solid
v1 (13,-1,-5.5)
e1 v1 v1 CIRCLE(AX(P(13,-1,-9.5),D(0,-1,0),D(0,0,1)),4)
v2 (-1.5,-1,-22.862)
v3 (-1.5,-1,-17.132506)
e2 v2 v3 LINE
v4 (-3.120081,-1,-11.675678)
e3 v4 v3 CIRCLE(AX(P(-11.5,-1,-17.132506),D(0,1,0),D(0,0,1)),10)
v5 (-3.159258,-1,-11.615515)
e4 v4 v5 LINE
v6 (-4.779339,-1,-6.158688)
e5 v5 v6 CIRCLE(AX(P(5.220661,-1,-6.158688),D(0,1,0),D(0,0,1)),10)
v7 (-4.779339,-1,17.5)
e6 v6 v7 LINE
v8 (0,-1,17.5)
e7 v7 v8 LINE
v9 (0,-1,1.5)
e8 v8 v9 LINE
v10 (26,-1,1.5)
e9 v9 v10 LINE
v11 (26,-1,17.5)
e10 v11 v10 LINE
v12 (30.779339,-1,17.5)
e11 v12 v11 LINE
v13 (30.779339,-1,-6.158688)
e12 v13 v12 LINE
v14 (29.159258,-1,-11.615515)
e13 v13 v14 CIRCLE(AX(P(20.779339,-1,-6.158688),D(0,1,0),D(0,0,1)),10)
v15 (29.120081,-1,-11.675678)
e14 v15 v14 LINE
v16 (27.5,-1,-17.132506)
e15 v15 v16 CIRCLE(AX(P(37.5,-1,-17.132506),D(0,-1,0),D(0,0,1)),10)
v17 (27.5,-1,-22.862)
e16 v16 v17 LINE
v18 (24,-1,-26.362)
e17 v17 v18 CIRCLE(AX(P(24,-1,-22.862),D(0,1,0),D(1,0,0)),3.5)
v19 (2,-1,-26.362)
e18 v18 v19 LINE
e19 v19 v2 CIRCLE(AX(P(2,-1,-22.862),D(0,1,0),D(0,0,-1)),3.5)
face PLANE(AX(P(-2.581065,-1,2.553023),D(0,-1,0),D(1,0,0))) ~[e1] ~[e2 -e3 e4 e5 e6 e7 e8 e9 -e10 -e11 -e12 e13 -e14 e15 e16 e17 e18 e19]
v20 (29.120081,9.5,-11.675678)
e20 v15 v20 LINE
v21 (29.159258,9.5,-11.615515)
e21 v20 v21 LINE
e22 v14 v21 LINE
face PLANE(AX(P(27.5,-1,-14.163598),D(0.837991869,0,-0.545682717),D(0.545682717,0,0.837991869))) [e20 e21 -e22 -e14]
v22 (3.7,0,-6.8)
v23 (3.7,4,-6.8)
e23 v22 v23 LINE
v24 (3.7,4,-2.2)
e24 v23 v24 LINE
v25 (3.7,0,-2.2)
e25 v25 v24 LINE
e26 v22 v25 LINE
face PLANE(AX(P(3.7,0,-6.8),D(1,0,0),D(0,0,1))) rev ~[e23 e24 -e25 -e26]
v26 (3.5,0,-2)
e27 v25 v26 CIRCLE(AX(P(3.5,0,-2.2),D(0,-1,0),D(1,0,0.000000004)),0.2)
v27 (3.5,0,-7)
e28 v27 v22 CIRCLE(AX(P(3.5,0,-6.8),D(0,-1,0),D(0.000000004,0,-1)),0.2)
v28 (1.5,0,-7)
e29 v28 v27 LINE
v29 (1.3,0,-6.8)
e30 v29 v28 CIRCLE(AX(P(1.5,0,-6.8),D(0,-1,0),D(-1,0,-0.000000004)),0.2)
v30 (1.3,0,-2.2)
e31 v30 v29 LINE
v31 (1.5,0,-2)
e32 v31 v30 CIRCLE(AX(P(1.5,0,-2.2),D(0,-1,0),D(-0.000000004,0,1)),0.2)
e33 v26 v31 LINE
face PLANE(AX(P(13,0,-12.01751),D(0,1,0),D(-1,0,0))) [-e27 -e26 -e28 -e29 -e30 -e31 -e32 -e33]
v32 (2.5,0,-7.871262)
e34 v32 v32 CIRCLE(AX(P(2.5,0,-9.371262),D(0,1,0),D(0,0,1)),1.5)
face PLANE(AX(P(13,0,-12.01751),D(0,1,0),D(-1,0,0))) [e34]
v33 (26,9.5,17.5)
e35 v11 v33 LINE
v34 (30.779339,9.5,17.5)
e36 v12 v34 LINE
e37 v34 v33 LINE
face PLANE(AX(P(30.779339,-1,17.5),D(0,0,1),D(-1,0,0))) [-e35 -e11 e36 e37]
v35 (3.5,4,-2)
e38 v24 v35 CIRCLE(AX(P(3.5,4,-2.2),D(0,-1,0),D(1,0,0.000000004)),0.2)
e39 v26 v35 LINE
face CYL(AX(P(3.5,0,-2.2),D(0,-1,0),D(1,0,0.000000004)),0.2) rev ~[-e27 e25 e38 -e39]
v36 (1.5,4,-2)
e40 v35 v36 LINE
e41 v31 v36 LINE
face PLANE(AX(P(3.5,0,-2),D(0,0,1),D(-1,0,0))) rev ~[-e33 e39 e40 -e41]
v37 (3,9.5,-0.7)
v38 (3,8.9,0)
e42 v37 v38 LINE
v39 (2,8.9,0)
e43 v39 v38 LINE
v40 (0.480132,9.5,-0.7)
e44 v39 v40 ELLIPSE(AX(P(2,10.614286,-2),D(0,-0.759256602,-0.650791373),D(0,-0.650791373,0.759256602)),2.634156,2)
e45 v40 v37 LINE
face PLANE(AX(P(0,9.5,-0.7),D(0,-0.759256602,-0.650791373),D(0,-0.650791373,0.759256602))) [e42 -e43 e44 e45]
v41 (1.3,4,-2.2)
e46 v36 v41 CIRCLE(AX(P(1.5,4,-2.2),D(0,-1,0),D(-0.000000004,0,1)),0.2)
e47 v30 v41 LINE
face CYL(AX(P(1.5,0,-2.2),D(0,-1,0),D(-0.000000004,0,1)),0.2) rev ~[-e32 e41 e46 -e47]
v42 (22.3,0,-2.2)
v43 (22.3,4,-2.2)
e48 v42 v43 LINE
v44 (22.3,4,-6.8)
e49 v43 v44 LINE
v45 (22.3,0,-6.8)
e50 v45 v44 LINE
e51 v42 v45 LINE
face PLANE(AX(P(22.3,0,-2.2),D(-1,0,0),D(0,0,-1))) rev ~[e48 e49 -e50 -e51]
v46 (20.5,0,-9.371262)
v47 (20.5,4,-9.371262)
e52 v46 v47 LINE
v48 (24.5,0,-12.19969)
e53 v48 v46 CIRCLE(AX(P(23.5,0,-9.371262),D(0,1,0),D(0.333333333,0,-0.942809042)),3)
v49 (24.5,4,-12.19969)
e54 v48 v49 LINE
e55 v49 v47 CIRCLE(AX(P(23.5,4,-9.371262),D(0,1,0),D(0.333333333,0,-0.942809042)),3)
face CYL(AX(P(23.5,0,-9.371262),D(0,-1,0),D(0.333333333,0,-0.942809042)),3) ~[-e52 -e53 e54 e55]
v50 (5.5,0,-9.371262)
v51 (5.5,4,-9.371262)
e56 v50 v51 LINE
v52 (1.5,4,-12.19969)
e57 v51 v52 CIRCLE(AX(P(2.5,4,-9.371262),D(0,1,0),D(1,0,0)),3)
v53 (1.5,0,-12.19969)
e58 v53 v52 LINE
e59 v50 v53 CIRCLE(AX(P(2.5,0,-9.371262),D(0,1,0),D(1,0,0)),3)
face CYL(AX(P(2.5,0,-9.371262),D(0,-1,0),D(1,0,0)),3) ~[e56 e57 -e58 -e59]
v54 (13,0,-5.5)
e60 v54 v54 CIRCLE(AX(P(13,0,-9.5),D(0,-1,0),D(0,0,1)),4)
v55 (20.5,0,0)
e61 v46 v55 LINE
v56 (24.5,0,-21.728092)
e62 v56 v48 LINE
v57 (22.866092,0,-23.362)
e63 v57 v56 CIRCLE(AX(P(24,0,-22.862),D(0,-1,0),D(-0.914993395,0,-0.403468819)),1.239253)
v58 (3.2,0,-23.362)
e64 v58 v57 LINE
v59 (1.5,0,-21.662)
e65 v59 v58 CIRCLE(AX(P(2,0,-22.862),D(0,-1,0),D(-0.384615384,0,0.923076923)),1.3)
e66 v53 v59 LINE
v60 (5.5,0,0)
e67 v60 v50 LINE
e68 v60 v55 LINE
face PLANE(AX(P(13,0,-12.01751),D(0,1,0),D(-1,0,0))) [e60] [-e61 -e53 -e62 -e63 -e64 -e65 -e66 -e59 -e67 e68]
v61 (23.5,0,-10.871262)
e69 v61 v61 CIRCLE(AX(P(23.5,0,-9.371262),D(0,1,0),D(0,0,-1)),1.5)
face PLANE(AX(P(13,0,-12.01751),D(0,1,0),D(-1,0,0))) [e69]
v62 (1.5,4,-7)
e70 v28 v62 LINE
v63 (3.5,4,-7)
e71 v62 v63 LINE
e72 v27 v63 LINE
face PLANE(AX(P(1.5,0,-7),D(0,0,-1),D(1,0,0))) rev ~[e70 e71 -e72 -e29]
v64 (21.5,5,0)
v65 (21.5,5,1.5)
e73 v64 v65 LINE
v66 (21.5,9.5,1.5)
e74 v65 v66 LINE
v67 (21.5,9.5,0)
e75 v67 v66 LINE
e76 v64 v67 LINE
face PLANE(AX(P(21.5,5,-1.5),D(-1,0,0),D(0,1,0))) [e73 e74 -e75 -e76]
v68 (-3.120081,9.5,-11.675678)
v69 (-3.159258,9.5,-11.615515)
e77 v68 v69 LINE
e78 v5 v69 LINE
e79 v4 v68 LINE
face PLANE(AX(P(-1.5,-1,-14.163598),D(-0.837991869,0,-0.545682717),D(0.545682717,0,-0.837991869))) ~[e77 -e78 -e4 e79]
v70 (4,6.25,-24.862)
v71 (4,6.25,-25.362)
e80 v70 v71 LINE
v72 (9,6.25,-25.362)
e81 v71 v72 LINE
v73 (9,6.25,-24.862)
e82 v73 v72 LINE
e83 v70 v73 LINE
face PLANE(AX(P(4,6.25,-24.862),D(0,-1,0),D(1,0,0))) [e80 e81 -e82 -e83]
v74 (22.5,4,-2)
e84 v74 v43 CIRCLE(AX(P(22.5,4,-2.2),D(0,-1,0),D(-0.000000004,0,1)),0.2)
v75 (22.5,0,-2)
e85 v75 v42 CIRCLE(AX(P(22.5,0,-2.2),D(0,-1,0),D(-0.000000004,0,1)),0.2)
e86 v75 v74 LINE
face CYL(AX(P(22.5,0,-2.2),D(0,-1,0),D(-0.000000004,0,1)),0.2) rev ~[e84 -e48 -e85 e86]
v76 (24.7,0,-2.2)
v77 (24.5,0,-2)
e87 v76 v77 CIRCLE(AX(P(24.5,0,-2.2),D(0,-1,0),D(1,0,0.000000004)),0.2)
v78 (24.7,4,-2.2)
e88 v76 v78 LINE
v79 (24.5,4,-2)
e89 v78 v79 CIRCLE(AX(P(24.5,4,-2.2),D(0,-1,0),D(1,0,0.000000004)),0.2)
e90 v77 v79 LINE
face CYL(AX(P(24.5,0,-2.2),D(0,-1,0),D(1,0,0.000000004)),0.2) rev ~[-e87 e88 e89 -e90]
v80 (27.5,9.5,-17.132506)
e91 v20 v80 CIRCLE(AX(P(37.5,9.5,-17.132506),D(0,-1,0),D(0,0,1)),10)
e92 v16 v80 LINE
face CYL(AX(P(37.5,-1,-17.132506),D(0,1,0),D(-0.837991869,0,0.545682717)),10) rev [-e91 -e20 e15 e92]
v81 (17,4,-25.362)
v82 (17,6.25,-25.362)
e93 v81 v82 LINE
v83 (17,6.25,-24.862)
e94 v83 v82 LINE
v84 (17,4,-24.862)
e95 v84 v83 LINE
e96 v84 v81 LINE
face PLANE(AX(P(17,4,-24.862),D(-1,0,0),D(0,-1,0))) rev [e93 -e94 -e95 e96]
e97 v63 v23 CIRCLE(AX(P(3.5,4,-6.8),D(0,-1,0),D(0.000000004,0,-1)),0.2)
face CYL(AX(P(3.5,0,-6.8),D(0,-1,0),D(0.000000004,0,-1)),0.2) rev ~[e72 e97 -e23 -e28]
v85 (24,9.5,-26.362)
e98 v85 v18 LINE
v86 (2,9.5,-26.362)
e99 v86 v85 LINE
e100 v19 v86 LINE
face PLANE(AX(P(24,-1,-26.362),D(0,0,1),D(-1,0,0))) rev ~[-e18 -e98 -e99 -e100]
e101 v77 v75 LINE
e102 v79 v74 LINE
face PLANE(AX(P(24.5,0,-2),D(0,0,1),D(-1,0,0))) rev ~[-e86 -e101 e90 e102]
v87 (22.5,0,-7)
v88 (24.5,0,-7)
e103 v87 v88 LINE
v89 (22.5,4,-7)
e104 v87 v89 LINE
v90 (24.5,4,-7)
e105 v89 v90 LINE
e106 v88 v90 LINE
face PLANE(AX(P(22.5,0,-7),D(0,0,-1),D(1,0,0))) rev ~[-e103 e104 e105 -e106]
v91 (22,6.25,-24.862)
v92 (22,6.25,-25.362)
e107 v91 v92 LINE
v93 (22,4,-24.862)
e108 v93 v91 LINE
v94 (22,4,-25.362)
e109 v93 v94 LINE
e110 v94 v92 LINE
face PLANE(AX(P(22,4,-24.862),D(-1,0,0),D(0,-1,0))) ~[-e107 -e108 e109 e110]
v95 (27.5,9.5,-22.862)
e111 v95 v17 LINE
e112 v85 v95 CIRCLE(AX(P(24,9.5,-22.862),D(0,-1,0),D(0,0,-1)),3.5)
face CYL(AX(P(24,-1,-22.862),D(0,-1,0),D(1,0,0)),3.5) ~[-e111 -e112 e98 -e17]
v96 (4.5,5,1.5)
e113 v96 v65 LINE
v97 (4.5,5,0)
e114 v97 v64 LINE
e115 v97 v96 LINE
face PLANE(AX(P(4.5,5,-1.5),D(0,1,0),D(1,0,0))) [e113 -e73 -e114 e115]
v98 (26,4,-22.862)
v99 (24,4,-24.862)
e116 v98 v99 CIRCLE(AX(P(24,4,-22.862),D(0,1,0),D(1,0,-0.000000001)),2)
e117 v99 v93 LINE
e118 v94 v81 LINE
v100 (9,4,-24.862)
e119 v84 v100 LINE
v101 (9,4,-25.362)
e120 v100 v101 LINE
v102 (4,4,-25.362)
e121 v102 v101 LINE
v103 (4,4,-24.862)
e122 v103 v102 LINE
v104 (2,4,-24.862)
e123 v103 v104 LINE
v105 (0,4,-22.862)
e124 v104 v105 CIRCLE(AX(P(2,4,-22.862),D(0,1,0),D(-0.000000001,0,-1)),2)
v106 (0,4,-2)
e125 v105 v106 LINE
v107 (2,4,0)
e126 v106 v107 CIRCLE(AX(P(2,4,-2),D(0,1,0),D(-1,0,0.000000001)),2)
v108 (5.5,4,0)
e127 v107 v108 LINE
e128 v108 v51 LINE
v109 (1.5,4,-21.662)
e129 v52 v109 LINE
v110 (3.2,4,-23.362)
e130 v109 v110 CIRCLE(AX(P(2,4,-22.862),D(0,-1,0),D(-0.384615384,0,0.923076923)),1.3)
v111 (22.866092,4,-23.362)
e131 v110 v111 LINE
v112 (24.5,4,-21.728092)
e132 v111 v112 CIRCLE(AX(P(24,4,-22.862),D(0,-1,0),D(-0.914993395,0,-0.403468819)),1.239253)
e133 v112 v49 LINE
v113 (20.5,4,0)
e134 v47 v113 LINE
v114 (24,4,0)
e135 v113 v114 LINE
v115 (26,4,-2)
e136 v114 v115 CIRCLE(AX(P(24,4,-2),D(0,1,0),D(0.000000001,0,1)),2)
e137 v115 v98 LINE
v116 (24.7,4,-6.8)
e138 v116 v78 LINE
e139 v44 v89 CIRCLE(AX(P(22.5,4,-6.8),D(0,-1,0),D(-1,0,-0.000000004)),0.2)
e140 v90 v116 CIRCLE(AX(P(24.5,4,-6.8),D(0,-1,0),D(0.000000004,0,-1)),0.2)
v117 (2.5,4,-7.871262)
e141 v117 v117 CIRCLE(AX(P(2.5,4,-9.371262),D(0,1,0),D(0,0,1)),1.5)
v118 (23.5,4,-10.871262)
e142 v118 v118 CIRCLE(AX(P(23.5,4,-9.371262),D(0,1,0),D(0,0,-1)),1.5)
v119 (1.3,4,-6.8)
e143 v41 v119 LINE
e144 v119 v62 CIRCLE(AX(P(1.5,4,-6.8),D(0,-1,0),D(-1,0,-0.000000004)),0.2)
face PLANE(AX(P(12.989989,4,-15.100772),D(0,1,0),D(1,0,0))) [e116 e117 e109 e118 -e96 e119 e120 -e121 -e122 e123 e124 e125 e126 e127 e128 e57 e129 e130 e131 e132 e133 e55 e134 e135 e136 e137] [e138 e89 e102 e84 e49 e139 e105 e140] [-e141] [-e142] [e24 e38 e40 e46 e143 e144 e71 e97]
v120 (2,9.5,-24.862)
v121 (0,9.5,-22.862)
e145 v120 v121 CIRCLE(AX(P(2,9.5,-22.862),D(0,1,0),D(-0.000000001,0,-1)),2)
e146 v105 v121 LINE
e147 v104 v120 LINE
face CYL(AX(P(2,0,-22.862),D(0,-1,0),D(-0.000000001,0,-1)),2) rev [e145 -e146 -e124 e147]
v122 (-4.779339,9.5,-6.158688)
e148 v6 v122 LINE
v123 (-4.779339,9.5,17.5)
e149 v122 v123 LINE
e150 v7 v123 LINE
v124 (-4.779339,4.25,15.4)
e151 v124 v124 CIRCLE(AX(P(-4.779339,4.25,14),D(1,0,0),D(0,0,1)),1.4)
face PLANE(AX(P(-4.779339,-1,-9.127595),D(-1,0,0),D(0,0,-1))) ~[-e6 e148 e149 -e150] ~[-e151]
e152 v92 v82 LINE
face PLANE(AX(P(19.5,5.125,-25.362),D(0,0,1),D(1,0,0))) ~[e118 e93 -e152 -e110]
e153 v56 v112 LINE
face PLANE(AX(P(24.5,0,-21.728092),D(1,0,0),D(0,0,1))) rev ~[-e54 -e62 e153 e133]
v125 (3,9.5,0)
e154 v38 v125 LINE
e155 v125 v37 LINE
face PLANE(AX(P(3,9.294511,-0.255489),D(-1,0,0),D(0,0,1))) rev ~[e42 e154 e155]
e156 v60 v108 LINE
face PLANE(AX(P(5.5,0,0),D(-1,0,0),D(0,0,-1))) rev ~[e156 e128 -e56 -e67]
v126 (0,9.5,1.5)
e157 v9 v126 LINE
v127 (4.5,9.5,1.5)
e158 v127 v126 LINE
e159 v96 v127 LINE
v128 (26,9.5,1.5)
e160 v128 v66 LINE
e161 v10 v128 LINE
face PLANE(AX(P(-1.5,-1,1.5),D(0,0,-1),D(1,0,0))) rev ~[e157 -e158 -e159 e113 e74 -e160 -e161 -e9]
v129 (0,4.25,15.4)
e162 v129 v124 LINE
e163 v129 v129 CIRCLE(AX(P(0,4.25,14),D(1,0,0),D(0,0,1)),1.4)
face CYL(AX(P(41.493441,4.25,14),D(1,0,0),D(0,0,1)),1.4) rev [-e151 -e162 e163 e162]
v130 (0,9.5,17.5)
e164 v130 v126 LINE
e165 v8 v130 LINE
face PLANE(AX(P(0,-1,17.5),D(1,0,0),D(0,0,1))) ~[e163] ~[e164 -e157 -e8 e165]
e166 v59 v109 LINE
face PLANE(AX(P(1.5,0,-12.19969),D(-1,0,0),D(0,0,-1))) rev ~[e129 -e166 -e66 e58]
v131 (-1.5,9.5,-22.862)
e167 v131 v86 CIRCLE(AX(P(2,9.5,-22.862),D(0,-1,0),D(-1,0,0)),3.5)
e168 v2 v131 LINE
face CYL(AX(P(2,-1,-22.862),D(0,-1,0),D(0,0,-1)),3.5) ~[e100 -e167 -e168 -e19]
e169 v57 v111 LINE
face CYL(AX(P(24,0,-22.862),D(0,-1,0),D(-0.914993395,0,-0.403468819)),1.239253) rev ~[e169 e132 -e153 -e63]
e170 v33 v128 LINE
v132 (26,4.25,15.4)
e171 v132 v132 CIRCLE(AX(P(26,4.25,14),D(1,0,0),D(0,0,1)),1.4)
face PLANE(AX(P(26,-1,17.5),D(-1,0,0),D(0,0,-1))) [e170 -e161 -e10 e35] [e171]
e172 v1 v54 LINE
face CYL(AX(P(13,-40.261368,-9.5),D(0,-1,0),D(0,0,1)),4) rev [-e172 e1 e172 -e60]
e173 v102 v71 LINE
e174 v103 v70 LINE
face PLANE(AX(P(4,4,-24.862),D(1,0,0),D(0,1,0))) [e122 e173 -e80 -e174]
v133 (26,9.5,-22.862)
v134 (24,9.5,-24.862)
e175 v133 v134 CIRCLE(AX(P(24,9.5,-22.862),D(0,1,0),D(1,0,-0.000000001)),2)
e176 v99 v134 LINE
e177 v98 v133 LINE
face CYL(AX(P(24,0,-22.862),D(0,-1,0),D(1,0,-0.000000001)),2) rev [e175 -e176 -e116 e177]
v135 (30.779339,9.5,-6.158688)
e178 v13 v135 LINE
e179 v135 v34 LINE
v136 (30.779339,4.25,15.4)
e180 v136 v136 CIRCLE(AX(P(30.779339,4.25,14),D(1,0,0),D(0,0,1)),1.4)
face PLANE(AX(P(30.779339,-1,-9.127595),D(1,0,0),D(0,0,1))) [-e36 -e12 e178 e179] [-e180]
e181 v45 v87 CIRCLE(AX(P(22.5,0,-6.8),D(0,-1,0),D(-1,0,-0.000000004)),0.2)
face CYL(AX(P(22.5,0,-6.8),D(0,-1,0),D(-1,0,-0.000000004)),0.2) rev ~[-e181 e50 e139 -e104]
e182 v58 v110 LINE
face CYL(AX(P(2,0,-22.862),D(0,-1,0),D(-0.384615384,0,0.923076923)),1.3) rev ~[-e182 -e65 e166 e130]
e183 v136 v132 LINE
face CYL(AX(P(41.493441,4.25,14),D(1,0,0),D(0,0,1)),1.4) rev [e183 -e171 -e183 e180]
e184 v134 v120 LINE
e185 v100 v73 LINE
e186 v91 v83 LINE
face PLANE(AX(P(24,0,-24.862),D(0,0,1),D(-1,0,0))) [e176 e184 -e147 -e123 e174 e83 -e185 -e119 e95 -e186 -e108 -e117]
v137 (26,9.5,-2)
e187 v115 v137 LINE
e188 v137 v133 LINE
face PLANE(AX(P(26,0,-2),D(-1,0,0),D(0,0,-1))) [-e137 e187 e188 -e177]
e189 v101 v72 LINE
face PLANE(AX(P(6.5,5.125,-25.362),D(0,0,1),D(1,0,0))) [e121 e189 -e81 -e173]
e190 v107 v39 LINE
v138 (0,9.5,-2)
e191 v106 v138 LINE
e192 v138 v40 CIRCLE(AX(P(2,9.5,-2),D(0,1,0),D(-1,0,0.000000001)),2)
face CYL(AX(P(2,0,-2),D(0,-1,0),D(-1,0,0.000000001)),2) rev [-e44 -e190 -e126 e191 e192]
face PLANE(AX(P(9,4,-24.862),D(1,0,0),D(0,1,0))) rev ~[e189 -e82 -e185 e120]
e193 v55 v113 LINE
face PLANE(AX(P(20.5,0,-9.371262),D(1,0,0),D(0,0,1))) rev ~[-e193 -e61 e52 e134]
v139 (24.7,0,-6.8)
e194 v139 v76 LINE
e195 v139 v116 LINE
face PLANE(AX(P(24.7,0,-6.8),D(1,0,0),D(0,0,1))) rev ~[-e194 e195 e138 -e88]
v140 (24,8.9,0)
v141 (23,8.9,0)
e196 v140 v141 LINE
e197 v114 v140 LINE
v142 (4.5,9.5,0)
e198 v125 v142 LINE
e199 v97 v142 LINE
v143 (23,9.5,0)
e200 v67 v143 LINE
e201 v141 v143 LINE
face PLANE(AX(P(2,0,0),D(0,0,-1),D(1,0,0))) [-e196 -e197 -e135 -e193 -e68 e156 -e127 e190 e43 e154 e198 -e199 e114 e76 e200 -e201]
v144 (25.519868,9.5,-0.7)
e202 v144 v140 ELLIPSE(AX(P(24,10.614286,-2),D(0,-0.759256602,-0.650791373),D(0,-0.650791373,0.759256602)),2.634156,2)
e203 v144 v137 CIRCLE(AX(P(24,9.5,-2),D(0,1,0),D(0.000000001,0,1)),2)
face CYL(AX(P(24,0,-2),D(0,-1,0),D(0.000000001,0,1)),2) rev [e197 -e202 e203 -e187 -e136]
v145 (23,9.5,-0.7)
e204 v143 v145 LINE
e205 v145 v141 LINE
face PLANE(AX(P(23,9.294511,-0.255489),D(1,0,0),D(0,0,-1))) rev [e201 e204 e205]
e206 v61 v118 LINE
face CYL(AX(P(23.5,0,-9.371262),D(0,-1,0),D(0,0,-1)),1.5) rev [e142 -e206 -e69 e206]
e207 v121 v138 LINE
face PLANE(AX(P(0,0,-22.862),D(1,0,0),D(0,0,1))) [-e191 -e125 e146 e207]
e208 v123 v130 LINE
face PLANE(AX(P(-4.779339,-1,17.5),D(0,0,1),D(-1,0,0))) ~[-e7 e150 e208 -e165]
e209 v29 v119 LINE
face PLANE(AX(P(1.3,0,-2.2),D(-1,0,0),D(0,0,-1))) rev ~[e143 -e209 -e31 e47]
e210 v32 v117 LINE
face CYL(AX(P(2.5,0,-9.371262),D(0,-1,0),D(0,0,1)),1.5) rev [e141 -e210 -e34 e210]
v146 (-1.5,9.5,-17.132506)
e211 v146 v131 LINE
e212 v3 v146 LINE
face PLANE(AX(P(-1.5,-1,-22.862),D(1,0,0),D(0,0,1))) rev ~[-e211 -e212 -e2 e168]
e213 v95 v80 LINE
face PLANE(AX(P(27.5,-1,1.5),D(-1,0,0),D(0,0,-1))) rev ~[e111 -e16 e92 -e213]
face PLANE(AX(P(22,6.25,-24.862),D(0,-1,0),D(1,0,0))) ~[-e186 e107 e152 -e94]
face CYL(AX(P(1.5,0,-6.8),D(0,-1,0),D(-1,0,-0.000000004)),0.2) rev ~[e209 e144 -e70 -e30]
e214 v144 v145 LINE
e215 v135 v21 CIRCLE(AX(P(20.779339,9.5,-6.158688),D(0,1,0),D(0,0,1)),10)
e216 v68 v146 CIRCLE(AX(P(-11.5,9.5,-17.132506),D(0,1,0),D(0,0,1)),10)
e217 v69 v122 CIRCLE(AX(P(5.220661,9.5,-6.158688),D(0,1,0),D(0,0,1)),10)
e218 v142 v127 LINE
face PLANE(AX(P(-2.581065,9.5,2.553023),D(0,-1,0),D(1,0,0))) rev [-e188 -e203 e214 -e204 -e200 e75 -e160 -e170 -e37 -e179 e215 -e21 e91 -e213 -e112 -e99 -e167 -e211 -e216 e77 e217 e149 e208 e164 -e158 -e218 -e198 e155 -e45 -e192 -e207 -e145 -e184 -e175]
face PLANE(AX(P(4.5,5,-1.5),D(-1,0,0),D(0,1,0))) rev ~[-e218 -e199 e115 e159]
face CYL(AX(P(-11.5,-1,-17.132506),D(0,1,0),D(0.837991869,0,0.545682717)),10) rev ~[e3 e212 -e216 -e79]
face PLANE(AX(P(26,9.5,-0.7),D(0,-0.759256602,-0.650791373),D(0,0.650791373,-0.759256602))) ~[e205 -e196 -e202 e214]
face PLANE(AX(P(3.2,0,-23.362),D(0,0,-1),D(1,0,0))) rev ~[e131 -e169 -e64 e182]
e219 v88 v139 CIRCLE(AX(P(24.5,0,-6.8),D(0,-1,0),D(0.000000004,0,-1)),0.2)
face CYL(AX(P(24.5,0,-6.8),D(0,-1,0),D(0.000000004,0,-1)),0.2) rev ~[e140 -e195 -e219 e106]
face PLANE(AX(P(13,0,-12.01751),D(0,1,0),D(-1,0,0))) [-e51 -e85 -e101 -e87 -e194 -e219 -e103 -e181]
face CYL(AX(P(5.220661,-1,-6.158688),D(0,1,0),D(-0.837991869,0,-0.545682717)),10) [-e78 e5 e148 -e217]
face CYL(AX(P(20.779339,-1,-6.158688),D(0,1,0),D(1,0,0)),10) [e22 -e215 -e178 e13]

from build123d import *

# Parameters (mm, degrees)
BOSS_EXTRUDE1_DEPTH     = 9.5
BOSS_EXTRUDE2_START     = 1
BOSS_EXTRUDE2_DEPTH     = 1
CUT_EXTRUDE1_DEPTH      = 40.261368341
CUT_EXTRUDE1_DEPTH_BACK = 40.261368341
SKETCH4_R               = 4
SKETCH5_R               = 1.5
BOSS_EXTRUDE3_DEPTH     = 4
CUT_EXTRUDE2_DEPTH      = 41.283880697
CUT_EXTRUDE2_DEPTH_BACK = 3
SKETCH6_W               = 17
SKETCH6_H               = 4.5
BOSS_EXTRUDE4_DEPTH     = 10.5
CUT_EXTRUDE3_DEPTH      = 46.272780922
CUT_EXTRUDE3_DEPTH_BACK = 46.272780922
SKETCH9_R               = 1.4
FILLET1_R               = 10
BOSS_EXTRUDE6_DEPTH     = 3
SKETCH14_W              = 5
SKETCH14_H              = 2.25
CUT_EXTRUDE4_DEPTH      = 0.5


with BuildPart() as part:
    # Sketch1 → Boss-Extrude1 (new body)
    with BuildSketch(Plane(origin=(0, 0, 0), x_dir=(1, 0, 0), z_dir=(0, 1, 0))):
        with BuildLine():
            Line((-1.5, 2), (-1.5, 22.862))
            ThreePointArc((-1.5, 22.862), (-0.474873734, 25.336873734), (2, 26.362))
            Line((2, 26.362), (24, 26.362))
            ThreePointArc((24, 26.362), (26.474873734, 25.336873734), (27.5, 22.862))
            Line((27.5, 22.862), (27.5, 2))
            Line((27.5, 2), (27.5, -1.5))
            Line((27.5, -1.5), (24, -1.5))
            Line((24, -1.5), (2, -1.5))
            Line((2, -1.5), (-1.5, -1.5))
            Line((-1.5, -1.5), (-1.5, 2))
        make_face()
        with BuildLine():
            Line((2, 0), (24, 0))
            ThreePointArc((24, 0), (25.414213562, 0.585786438), (26, 2))
            Line((26, 2), (26, 22.862))
            ThreePointArc((26, 22.862), (25.414213562, 24.276213562), (24, 24.862))
            Line((24, 24.862), (2, 24.862))
            ThreePointArc((2, 24.862), (0.585786438, 24.276213562), (0, 22.862))
            Line((0, 22.862), (0, 2))
            ThreePointArc((0, 2), (0.585786438, 0.585786438), (2, 0))
        make_face(mode=Mode.SUBTRACT)
    extrude(amount=BOSS_EXTRUDE1_DEPTH)

    # Sketch3 → Boss-Extrude2 (add)
    with BuildSketch(Plane.XZ.offset(BOSS_EXTRUDE2_START)):
        with BuildLine():
            Line((24, -26.362), (2, -26.362))
            ThreePointArc((2, -26.362), (-0.474873734, -25.336873734), (-1.5, -22.862))
            Line((-1.5, -22.862), (-1.5, 1.5))
            Line((-1.5, 1.5), (27.5, 1.5))
            Line((27.5, 1.5), (27.5, -22.862))
            ThreePointArc((27.5, -22.862), (26.474873734, -25.336873734), (24, -26.362))
        make_face()
    extrude(amount=-BOSS_EXTRUDE2_DEPTH)

    # Sketch4 → Cut-Extrude1 (cut, two sides: drawn at the far end of the back side and taken through both)
    with BuildSketch(Plane(origin=(0, 0, 0), x_dir=(1, 0, 0), z_dir=(0, 1, 0)).offset(-CUT_EXTRUDE1_DEPTH_BACK)):
        with Locations(Location((13, 9.5, 0), (0, 0, 270))):
            Circle(SKETCH4_R)
    extrude(amount=CUT_EXTRUDE1_DEPTH + CUT_EXTRUDE1_DEPTH_BACK, mode=Mode.SUBTRACT)

    # Sketch5 → Boss-Extrude3 (add)
    with BuildSketch(Plane(origin=(0, 0, 0), x_dir=(1, 0, 0), z_dir=(0, 1, 0))):
        with BuildLine():
            Line((3.2, 23.362), (22.866091564, 23.362))
            ThreePointArc((22.866091564, 23.362), (24.876284298, 23.738284298), (24.5, 21.728091564))
            Line((24.5, 21.728091564), (24.5, 12.199689562))
            ThreePointArc((24.5, 12.199689562), (21.767949192, 11.82075218), (20.5, 9.371262437))
            Line((20.5, 9.371262437), (20.5, 0))
            Line((20.5, 0), (24, 0))
            ThreePointArc((24, 0), (25.414213562, 0.585786438), (26, 2))
            Line((26, 2), (26, 22.862))
            ThreePointArc((26, 22.862), (25.414213562, 24.276213562), (24, 24.862))
            Line((24, 24.862), (2, 24.862))
            ThreePointArc((2, 24.862), (0.585786438, 24.276213562), (0, 22.862))
            Line((0, 22.862), (0, 2))
            ThreePointArc((0, 2), (0.585786438, 0.585786438), (2, 0))
            Line((2, 0), (5.5, 0))
            Line((5.5, 0), (5.5, 9.371262437))
            ThreePointArc((5.5, 9.371262437), (4.232050808, 11.82075218), (1.5, 12.199689562))
            Line((1.5, 12.199689562), (1.5, 21.662))
            ThreePointArc((1.5, 21.662), (1.080761184, 23.781238816), (3.2, 23.362))
        make_face()
        with BuildLine():
            Line((3.5, 2), (1.5, 2))
            ThreePointArc((1.5, 2), (1.358578644, 2.058578644), (1.3, 2.2))
            Line((1.3, 2.2), (1.3, 6.8))
            ThreePointArc((1.3, 6.8), (1.358578644, 6.941421356), (1.5, 7))
            Line((1.5, 7), (3.5, 7))
            ThreePointArc((3.5, 7), (3.641421356, 6.941421356), (3.7, 6.8))
            Line((3.7, 6.8), (3.7, 2.2))
            ThreePointArc((3.7, 2.2), (3.641421356, 2.058578644), (3.5, 2))
        make_face(mode=Mode.SUBTRACT)
        with Locations(Location((2.5, 9.371262437, 0), (0, 0, 270))):
            Circle(SKETCH5_R, mode=Mode.SUBTRACT)
        with BuildLine():
            ThreePointArc((22.5, 2), (22.358578644, 2.058578644), (22.3, 2.2))
            Line((22.3, 2.2), (22.3, 6.8))
            ThreePointArc((22.3, 6.8), (22.358578644, 6.941421356), (22.5, 7))
            Line((22.5, 7), (24.5, 7))
            ThreePointArc((24.5, 7), (24.641421356, 6.941421356), (24.7, 6.8))
            Line((24.7, 6.8), (24.7, 2.2))
            ThreePointArc((24.7, 2.2), (24.641421356, 2.058578644), (24.5, 2))
            Line((24.5, 2), (22.5, 2))
        make_face(mode=Mode.SUBTRACT)
        with Locations(Location((23.5, 9.371262437, 0), (0, 0, 90))):
            Circle(SKETCH5_R, mode=Mode.SUBTRACT)
    extrude(amount=BOSS_EXTRUDE3_DEPTH)

    # Sketch6 → Cut-Extrude2 (cut, two sides: drawn at the far end of the back side and taken through both)
    with BuildSketch(Plane.XY.offset(1.5).offset(-CUT_EXTRUDE2_DEPTH_BACK)):
        with Locations((13, 7.25)):
            Rectangle(SKETCH6_W, SKETCH6_H)
    extrude(amount=CUT_EXTRUDE2_DEPTH + CUT_EXTRUDE2_DEPTH_BACK, mode=Mode.SUBTRACT)

    # Sketch7 → Boss-Extrude4 (add)
    with BuildSketch(Plane.XZ.offset(1)):
        Polygon((27.5, -14.163598373), (30.779339473, -9.127595345), (30.779339473, 17.5), (26, 17.5), (26, 1.5), (27.5, 1.5), align=None)
    boss_extrude4 = extrude(amount=-BOSS_EXTRUDE4_DEPTH)

    # Mirror1: Boss-Extrude4 across plane
    add(boss_extrude4.mirror(Plane(origin=(13, 0, 0), x_dir=(0, 0, 1), z_dir=(1, 0, 0))))

    # Sketch9 → Cut-Extrude3 (cut, two sides: drawn at the far end of the back side and taken through both)
    with BuildSketch(Plane.ZY.offset(4.779339473).offset(-CUT_EXTRUDE3_DEPTH_BACK)):
        with Locations((14, 4.25)):
            Circle(SKETCH9_R)
    extrude(amount=CUT_EXTRUDE3_DEPTH + CUT_EXTRUDE3_DEPTH_BACK, mode=Mode.SUBTRACT)

    # Fillet1
    fillet1_edges = [part.edges().sort_by_distance(p)[0] for p in [
        (30.779339473, 4.25, -9.127595345),
        (27.5, 4.25, -14.163598373),
        (-1.5, 4.25, -14.163598373),
        (-4.779339473, 4.25, -9.127595345),
    ]]
    fillet(fillet1_edges, radius=FILLET1_R)

    # Sketch13 → Boss-Extrude6 (add)
    with BuildSketch(Plane(origin=(0, 0, 0), x_dir=(0, 0, -1), z_dir=(1, 0, 0))):
        Polygon((0, 9.5), (0.7, 9.5), (0, 8.9), align=None)
    boss_extrude6 = extrude(amount=BOSS_EXTRUDE6_DEPTH)

    # Sketch14 → Cut-Extrude4 (cut)
    with BuildSketch(Plane.XY.offset(-24.862)):
        with Locations((6.5, 5.125)):
            Rectangle(SKETCH14_W, SKETCH14_H)
    cut_extrude4 = extrude(amount=-CUT_EXTRUDE4_DEPTH, mode=Mode.SUBTRACT)

    # Mirror3: Boss-Extrude6, Cut-Extrude4 across plane
    add(boss_extrude6.mirror(Plane(origin=(13, 0, 0), x_dir=(0, 0, 1), z_dir=(1, 0, 0))))
    add(cut_extrude4.mirror(Plane(origin=(13, 0, 0), x_dir=(0, 0, 1), z_dir=(1, 0, 0))), mode=Mode.SUBTRACT)


solid = part.part
